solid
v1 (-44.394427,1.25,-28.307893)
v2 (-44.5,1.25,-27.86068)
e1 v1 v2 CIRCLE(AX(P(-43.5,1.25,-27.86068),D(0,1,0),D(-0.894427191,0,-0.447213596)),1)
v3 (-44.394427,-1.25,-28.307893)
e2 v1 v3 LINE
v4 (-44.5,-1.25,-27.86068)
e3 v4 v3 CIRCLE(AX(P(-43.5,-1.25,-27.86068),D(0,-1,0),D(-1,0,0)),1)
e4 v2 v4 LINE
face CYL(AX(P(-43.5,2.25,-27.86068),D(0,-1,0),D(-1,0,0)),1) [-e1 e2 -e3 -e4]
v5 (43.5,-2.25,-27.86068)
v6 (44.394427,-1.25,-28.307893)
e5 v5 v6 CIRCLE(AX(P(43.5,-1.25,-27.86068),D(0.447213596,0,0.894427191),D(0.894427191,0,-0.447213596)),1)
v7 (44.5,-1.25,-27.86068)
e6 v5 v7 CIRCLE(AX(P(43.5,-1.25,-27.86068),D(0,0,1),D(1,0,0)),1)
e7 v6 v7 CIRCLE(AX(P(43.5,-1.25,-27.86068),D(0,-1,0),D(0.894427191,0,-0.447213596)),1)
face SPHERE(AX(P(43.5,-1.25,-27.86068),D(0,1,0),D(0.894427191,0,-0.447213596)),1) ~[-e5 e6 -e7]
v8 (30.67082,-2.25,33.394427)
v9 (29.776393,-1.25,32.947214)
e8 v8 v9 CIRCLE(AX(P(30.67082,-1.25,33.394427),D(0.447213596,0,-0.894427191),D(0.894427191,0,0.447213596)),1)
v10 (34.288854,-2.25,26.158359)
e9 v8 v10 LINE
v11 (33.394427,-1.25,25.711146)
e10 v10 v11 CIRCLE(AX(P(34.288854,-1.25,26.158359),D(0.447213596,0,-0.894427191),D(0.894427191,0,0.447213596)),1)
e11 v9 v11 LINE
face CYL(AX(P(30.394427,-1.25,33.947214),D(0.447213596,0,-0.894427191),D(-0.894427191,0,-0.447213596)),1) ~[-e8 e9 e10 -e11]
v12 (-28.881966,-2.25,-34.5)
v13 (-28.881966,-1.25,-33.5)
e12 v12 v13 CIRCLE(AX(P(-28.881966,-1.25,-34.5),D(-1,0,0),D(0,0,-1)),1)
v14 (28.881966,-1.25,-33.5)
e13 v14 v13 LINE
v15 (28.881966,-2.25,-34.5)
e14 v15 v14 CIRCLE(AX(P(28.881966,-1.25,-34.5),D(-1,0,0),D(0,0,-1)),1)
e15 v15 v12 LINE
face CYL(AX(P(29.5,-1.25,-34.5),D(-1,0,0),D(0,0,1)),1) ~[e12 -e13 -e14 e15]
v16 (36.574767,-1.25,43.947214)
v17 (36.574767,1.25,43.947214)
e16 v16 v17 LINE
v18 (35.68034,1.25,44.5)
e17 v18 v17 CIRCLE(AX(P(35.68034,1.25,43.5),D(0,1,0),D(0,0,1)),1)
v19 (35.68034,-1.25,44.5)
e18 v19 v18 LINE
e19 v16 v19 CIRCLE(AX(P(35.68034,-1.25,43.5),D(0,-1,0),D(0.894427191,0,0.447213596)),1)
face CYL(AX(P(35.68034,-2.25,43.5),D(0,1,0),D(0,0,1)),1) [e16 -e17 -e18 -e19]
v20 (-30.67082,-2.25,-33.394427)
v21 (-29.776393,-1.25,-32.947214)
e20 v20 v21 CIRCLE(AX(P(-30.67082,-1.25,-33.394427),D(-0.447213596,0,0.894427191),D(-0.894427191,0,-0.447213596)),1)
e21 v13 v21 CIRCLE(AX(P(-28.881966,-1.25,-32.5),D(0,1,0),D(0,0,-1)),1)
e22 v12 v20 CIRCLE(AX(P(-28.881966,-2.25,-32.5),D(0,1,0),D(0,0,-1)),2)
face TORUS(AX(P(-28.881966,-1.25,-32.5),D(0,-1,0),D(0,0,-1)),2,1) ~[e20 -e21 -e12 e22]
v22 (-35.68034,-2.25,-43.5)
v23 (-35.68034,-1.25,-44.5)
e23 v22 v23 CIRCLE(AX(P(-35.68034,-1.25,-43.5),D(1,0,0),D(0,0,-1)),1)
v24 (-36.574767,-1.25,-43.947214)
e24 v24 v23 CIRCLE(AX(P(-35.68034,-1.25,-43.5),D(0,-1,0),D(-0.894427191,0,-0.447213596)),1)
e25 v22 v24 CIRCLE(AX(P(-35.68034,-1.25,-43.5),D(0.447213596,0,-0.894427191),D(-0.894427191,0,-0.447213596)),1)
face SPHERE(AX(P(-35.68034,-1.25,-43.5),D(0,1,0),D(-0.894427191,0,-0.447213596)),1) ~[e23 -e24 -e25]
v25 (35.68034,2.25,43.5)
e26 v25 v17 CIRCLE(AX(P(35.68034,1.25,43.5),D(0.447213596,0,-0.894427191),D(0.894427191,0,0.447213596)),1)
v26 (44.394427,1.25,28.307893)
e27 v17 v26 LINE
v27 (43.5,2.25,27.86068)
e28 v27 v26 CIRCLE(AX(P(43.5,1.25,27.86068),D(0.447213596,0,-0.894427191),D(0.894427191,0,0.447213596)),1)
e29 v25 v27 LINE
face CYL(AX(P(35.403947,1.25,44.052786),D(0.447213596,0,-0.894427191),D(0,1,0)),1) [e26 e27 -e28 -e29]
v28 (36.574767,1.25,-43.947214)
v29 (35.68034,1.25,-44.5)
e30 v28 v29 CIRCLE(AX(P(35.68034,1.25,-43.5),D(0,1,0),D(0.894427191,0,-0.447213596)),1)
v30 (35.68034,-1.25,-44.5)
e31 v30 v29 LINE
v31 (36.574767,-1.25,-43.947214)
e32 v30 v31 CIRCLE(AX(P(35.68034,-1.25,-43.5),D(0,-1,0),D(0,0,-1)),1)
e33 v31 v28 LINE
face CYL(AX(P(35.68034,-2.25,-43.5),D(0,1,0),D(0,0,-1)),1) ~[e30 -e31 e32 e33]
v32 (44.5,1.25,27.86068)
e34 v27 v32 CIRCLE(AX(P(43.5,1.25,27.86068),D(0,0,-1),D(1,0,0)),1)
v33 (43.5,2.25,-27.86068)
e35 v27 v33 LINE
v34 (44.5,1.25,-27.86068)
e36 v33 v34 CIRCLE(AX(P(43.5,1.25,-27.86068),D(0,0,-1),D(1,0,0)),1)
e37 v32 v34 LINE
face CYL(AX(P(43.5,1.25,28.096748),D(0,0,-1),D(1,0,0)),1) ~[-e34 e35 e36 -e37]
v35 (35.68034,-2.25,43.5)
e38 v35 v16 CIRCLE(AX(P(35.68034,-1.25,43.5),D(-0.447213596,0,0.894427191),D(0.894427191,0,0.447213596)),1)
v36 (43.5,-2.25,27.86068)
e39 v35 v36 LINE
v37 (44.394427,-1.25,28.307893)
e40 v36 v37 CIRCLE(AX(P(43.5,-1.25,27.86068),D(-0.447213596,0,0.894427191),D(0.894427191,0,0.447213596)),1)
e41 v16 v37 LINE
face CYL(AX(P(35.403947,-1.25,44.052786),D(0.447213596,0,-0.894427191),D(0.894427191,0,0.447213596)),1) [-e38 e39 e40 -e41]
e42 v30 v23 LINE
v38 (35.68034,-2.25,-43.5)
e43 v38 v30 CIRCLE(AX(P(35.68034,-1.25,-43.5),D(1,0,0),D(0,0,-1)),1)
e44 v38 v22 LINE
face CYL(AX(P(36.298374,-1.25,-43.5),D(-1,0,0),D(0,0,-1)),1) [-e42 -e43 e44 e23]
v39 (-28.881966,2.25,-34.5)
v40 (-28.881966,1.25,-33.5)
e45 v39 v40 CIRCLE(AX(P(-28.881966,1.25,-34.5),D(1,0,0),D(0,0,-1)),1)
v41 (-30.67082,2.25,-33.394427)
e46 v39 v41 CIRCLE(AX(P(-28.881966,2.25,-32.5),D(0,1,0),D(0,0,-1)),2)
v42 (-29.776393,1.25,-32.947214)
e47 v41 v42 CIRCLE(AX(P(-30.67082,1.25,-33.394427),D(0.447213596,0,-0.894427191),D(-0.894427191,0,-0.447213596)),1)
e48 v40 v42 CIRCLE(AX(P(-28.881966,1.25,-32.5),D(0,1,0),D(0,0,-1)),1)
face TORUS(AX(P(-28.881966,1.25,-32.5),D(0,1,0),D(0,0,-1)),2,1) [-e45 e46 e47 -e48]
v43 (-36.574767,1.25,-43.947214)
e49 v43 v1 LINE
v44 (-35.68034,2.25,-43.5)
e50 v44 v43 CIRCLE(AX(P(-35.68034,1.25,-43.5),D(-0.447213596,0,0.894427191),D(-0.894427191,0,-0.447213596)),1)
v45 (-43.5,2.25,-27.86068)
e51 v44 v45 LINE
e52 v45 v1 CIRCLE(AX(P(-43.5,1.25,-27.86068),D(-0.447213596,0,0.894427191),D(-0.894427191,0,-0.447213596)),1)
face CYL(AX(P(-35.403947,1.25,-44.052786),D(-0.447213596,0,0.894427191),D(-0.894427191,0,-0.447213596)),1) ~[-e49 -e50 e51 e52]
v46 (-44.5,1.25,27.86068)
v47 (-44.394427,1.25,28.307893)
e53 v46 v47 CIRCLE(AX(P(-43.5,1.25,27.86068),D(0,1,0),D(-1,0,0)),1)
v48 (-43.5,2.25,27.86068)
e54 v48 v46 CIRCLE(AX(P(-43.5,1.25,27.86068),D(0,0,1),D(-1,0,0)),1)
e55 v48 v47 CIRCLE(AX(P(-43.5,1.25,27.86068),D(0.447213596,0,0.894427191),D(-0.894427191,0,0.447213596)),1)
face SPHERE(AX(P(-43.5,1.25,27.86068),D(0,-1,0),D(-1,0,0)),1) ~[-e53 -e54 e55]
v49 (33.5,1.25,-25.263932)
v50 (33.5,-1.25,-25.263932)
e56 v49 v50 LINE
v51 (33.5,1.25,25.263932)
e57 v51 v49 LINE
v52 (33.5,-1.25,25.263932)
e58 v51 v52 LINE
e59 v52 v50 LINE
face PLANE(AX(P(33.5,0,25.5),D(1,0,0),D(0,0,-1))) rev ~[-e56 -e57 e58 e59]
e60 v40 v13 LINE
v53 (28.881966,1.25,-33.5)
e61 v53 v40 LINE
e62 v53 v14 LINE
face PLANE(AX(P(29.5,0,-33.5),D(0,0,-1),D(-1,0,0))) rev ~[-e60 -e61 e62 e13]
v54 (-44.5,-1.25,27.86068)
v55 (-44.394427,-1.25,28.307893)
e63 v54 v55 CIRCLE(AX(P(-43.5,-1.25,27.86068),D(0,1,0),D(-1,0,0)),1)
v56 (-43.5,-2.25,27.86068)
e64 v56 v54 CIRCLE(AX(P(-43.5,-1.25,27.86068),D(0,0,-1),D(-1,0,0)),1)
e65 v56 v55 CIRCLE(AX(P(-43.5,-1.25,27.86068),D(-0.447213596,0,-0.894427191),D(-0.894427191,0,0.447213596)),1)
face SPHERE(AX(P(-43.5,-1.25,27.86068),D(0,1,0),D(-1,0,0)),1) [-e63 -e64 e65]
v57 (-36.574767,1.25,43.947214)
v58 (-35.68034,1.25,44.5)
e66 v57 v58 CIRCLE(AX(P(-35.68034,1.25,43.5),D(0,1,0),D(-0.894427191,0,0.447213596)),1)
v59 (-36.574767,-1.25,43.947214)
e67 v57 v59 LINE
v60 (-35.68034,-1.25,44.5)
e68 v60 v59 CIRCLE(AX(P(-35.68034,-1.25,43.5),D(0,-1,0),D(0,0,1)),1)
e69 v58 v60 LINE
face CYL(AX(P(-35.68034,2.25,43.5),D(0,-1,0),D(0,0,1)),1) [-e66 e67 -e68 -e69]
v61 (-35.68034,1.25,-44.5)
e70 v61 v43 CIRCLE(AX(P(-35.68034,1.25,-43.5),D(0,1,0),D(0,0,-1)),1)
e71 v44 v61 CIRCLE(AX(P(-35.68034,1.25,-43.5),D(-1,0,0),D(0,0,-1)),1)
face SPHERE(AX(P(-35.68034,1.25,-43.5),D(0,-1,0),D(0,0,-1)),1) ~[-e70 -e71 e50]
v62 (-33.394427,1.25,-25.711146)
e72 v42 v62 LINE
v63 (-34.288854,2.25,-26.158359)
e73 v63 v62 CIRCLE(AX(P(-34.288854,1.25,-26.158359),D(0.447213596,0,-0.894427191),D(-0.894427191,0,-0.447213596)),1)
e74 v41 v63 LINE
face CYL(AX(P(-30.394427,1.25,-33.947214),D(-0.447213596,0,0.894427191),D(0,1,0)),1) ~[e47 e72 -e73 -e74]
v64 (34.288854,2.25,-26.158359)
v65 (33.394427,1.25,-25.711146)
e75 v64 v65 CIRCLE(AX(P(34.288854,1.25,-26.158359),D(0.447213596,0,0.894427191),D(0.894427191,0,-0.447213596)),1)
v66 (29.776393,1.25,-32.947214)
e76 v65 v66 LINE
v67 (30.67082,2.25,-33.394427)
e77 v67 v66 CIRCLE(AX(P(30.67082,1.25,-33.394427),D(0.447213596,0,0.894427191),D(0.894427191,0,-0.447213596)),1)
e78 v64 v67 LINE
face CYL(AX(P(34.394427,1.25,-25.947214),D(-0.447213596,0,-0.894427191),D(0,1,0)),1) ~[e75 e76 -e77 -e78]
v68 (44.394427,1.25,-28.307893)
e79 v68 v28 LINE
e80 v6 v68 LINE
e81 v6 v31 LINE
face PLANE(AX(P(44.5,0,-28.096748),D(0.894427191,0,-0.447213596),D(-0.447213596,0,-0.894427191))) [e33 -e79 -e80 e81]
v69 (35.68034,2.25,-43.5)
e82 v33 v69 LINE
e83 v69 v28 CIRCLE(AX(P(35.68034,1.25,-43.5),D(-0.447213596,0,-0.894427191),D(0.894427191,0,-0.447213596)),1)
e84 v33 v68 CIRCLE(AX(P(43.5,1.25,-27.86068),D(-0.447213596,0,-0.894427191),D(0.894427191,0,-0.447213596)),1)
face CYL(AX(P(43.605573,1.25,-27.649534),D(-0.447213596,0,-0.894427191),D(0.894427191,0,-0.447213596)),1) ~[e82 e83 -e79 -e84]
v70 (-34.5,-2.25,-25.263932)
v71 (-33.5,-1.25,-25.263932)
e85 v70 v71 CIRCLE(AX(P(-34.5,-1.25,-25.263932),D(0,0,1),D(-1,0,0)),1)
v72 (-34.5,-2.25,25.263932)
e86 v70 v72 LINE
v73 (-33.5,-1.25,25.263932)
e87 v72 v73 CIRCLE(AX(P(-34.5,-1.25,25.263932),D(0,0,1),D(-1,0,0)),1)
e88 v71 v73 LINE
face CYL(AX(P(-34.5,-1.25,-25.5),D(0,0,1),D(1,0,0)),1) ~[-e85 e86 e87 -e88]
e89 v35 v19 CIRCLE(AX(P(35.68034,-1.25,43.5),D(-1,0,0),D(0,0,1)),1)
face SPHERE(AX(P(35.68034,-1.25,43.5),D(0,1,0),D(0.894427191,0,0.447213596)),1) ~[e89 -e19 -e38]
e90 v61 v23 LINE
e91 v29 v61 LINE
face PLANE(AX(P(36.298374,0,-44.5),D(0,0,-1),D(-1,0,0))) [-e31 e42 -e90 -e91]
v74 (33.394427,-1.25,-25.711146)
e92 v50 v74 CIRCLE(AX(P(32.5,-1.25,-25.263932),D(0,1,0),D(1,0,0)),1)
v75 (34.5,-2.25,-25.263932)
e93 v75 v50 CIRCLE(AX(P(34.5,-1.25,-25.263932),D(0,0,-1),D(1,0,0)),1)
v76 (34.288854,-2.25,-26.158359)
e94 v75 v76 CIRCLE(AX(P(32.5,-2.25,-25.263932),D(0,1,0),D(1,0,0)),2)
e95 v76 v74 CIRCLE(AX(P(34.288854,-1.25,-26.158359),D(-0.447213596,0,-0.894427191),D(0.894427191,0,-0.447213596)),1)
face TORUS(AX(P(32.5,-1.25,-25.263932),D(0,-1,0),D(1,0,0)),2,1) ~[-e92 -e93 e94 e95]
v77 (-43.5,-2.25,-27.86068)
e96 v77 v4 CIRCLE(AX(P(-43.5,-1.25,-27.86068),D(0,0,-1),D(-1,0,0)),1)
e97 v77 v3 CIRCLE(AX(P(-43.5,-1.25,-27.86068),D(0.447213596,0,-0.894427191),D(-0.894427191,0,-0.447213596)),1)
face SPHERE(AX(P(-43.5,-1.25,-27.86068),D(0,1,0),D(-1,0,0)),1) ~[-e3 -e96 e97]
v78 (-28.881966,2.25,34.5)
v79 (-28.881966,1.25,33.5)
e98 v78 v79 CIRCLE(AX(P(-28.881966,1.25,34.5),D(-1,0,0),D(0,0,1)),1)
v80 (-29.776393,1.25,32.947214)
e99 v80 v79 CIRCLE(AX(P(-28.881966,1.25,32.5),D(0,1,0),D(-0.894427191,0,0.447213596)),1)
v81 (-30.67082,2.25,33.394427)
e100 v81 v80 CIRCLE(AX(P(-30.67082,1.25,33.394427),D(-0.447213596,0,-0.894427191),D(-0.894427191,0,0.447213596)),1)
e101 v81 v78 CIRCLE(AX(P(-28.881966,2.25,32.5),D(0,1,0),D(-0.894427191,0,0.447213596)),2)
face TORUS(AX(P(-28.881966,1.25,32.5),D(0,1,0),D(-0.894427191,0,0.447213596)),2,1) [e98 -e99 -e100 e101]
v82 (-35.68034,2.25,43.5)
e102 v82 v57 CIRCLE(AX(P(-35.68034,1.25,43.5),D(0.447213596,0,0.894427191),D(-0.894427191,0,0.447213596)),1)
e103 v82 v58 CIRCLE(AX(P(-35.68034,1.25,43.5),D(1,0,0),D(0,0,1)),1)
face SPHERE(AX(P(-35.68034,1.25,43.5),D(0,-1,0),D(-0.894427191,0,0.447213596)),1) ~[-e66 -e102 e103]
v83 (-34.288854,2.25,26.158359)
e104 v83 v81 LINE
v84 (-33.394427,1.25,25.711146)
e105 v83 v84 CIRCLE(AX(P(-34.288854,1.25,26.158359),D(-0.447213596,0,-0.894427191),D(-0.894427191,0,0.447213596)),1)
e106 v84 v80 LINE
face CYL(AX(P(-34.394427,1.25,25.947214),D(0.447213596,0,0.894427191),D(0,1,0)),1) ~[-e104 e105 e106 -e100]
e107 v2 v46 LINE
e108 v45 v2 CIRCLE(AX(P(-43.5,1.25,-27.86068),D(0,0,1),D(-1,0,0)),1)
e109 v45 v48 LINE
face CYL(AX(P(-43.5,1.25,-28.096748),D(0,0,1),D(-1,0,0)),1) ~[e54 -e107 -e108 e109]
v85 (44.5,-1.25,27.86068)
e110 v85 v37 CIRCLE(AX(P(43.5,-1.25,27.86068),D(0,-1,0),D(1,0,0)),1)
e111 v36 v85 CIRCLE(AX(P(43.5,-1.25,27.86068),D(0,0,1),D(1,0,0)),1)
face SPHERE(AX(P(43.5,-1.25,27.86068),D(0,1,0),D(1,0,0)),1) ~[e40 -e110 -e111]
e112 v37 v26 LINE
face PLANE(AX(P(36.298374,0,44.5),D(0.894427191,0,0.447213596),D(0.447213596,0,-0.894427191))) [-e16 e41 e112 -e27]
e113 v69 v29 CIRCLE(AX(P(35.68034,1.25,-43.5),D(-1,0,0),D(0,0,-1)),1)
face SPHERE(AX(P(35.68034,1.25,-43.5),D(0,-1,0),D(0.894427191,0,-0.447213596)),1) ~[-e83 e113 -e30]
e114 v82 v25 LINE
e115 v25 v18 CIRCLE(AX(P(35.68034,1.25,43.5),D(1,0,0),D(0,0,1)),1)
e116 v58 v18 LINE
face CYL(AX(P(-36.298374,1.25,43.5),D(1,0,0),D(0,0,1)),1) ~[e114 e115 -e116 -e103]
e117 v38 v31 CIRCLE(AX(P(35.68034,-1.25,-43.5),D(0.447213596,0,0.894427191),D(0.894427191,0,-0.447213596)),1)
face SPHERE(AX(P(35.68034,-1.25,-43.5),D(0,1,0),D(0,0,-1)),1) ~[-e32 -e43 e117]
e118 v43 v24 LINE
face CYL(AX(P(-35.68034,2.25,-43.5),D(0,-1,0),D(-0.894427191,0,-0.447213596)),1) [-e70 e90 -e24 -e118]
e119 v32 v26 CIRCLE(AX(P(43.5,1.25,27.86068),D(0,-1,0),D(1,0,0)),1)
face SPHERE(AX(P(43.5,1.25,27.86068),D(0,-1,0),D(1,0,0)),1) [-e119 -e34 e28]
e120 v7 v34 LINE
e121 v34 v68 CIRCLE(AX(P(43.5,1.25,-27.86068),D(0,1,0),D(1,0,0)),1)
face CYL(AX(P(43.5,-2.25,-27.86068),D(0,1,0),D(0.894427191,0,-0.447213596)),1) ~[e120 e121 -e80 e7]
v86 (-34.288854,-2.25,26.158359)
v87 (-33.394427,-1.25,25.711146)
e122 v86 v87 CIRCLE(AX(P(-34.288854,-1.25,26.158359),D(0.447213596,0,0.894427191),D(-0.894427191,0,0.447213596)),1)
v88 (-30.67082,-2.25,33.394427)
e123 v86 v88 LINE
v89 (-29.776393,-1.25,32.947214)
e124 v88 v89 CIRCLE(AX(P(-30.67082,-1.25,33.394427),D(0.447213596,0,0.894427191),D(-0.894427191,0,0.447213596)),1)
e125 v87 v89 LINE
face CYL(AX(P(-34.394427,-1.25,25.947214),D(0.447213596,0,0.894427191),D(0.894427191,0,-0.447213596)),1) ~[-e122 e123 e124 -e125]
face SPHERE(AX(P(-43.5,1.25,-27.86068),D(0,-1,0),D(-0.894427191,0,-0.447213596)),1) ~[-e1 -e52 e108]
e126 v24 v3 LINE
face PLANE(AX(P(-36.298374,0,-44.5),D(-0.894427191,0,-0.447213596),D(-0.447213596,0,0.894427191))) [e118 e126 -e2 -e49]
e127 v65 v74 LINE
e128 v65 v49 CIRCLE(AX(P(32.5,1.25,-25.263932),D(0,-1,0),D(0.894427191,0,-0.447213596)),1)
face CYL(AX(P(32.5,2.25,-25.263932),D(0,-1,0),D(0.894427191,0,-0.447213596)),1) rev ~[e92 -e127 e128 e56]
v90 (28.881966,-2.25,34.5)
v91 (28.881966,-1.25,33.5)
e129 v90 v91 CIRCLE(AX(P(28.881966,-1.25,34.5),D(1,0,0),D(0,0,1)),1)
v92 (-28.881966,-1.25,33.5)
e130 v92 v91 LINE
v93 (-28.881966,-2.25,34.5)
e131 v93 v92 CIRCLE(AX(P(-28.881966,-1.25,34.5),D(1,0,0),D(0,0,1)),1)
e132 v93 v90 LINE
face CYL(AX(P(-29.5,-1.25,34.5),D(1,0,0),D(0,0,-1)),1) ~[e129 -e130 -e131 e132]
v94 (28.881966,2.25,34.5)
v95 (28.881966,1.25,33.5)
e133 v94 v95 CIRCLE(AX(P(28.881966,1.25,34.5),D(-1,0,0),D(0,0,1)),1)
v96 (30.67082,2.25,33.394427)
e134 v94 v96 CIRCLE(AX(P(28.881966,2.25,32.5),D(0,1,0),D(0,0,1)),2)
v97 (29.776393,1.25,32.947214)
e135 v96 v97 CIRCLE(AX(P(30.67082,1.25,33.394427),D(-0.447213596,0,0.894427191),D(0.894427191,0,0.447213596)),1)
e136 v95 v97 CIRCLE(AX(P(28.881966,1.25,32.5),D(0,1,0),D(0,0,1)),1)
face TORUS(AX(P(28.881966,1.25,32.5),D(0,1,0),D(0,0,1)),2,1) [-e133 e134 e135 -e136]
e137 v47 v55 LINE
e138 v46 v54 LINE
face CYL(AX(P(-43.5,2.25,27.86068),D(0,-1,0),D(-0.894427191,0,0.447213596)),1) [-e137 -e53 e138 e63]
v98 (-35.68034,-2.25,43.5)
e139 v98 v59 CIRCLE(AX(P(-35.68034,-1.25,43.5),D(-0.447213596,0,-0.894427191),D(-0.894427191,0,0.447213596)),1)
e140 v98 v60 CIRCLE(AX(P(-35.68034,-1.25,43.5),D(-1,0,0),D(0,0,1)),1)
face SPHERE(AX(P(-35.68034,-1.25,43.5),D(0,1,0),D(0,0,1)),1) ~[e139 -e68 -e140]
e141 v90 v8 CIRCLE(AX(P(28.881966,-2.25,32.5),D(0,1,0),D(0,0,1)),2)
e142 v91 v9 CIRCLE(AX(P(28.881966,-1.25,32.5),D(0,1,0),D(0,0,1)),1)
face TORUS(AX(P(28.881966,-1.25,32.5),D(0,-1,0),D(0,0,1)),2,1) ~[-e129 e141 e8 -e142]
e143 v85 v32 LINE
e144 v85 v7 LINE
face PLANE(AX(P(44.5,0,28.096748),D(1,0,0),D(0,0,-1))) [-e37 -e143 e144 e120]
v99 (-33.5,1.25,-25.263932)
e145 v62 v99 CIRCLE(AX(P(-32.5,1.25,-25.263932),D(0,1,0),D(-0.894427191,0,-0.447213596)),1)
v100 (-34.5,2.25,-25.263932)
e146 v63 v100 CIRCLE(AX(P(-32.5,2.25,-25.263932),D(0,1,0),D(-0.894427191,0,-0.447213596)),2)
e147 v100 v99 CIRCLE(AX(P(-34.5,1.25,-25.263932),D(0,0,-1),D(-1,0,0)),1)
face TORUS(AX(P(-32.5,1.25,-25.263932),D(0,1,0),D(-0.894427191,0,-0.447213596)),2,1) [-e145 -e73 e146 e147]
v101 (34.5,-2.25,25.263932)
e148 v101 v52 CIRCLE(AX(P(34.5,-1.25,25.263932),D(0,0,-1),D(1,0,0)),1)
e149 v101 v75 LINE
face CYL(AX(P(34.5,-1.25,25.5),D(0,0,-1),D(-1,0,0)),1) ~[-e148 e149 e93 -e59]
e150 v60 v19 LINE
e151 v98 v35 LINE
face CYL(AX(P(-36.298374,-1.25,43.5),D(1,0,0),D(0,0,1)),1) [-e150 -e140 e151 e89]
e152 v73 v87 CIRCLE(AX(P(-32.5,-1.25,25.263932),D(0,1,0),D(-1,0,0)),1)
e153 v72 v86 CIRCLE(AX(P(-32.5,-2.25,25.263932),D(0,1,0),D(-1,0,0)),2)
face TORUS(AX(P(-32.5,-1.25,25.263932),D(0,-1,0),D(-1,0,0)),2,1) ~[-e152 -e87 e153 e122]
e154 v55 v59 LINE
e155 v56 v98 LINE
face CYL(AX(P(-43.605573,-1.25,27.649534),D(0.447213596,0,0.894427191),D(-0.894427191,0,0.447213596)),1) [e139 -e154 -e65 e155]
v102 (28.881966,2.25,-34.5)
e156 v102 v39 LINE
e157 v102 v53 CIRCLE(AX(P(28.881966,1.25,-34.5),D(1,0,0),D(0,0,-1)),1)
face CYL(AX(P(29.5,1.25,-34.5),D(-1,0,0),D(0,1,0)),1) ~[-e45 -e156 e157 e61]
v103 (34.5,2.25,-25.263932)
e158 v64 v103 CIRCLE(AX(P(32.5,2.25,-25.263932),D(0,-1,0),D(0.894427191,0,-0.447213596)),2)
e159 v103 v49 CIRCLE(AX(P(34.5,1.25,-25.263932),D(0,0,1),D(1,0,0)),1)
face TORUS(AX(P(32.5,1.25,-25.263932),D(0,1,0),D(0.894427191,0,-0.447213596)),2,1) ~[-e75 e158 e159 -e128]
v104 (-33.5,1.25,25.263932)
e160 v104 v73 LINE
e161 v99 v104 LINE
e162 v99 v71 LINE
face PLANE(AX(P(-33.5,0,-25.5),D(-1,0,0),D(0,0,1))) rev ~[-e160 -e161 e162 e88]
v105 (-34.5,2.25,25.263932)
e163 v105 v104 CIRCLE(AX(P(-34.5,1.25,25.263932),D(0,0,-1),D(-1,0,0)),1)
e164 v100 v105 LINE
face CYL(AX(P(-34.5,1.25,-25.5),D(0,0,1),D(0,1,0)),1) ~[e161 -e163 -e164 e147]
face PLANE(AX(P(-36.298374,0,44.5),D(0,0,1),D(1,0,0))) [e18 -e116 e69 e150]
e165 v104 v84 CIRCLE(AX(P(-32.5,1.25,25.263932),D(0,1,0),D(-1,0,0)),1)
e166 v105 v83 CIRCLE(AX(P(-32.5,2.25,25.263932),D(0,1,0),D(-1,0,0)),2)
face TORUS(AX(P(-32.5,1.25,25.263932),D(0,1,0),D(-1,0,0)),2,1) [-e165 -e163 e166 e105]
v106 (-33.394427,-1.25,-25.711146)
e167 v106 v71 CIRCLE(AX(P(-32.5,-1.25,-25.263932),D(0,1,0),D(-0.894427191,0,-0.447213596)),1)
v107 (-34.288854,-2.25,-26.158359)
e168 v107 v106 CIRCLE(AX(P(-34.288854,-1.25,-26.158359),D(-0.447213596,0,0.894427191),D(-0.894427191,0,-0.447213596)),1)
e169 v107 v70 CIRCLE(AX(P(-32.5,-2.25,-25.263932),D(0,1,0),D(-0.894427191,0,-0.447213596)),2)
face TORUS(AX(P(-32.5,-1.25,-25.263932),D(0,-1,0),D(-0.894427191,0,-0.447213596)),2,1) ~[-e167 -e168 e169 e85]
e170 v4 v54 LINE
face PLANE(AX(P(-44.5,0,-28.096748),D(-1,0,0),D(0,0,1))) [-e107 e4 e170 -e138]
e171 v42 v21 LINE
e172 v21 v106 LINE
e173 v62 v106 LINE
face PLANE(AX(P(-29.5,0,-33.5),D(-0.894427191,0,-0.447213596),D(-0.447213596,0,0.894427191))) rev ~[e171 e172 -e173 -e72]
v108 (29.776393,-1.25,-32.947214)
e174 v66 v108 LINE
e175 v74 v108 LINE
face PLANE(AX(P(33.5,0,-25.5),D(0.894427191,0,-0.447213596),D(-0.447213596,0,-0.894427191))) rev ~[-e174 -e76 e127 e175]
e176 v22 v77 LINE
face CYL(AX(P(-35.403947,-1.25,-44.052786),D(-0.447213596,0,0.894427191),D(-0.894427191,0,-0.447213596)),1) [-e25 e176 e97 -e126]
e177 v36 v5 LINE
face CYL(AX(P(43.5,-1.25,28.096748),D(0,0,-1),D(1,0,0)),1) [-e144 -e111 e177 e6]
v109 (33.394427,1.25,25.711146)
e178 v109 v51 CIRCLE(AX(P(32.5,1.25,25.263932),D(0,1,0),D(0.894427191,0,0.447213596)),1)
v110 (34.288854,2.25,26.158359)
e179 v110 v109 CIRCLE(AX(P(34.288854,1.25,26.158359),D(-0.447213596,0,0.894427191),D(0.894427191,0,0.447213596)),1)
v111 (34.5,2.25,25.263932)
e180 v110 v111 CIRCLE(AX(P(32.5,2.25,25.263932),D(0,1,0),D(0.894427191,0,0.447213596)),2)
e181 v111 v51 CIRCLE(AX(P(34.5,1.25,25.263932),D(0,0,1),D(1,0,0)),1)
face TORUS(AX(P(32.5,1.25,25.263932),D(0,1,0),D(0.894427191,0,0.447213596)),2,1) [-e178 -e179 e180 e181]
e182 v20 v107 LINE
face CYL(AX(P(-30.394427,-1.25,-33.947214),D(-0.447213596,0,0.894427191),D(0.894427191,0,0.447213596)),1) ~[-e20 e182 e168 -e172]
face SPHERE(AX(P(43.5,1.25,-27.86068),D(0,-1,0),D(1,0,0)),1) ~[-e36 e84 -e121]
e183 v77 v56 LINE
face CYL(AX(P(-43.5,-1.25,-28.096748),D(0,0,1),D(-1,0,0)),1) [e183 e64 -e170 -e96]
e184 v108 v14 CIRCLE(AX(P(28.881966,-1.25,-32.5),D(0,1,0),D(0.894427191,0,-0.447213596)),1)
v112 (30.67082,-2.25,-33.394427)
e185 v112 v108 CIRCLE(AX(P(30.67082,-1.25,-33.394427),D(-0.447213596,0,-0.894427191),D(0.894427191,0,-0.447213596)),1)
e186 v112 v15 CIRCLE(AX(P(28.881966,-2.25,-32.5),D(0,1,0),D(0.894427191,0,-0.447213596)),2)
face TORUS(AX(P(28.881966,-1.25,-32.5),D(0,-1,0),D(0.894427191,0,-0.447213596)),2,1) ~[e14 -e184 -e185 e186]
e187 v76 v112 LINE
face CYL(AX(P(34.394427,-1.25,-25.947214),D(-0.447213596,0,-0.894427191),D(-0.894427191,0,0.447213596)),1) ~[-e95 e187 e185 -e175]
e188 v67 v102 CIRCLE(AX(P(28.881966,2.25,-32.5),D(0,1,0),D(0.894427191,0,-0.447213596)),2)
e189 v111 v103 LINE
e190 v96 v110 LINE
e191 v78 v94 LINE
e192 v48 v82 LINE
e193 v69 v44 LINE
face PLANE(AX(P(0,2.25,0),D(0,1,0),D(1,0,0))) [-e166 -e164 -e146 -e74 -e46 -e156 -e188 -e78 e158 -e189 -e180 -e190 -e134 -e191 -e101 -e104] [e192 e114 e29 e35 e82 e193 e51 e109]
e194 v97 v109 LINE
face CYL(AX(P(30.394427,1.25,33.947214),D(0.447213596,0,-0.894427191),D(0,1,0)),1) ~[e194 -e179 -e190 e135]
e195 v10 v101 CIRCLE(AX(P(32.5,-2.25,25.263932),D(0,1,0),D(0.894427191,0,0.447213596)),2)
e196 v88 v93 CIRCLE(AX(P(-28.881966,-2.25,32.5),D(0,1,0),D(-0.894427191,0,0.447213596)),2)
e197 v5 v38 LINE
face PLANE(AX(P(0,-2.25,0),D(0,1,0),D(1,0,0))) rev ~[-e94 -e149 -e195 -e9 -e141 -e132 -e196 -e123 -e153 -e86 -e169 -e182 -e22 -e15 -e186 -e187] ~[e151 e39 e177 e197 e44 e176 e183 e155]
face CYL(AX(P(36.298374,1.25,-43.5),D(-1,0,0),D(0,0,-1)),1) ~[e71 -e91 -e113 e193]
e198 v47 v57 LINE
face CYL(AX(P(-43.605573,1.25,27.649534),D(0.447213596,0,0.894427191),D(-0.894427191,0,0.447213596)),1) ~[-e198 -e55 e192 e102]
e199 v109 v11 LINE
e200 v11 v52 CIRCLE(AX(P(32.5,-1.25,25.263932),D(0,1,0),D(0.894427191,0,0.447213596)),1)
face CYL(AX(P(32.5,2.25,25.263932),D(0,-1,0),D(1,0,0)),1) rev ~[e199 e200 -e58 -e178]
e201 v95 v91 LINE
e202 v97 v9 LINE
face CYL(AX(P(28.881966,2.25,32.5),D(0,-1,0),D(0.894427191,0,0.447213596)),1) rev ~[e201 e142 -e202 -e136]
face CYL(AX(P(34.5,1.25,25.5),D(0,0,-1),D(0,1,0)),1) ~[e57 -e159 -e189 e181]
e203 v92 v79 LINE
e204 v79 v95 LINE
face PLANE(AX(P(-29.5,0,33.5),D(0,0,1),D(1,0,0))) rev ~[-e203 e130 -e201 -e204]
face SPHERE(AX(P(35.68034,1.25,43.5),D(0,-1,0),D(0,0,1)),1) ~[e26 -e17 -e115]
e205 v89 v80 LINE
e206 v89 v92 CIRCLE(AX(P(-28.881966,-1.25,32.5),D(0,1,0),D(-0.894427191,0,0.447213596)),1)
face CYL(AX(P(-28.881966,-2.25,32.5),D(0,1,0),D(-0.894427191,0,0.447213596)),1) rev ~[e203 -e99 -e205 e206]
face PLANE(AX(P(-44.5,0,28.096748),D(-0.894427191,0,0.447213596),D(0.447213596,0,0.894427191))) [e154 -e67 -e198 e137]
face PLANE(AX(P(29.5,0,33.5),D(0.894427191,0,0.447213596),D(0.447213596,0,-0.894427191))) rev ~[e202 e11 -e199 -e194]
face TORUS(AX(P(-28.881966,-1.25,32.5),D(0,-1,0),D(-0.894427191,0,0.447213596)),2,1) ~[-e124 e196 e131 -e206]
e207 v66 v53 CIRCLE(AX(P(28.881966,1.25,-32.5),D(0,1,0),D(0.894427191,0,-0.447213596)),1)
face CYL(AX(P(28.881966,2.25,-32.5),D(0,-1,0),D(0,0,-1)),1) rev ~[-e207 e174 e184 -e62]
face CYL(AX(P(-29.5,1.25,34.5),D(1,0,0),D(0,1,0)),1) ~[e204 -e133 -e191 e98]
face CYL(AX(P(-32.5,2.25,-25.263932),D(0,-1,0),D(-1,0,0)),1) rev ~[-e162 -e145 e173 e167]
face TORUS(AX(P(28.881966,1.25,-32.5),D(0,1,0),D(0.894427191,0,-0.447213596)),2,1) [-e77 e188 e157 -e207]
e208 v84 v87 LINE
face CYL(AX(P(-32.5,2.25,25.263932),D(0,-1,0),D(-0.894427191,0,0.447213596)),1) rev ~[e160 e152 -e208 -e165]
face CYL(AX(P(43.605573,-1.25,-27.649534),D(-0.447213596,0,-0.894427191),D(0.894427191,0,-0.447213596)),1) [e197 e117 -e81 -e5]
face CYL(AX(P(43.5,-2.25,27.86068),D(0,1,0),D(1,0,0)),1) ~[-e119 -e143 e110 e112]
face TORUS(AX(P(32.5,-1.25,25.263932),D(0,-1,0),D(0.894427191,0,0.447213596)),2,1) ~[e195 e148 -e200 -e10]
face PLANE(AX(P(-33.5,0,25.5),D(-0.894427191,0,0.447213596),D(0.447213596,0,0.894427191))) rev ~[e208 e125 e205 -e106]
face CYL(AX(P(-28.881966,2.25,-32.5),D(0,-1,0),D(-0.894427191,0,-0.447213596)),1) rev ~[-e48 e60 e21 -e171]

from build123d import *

# Parameters (mm, degrees)
BOSS_EXTRUDE1_DEPTH = 2.25
FILLET1_R           = 1


with BuildPart() as part:
    # Sketch1 → Boss-Extrude1 (new, symmetric)
    with BuildSketch(Plane(origin=(0, 0, 0), x_dir=(1, 0, 0), z_dir=(0, 1, 0))):
        Polygon((-36.298373876, -44.5), (36.298373876, -44.5), (44.5, -28.096747752), (44.5, 28.096747752), (36.298373876, 44.5), (-36.298373876, 44.5), (-44.5, 28.096747752), (-44.5, -28.096747752), align=None)
        Polygon((-29.5, -33.5), (29.5, -33.5), (33.5, -25.5), (33.5, 25.5), (29.5, 33.5), (-29.5, 33.5), (-33.5, 25.5), (-33.5, -25.5), align=None, mode=Mode.SUBTRACT)
    extrude(amount=BOSS_EXTRUDE1_DEPTH, both=True)

    # Fillet1
    fillet1_edges = [part.edges().sort_by_distance(p)[0] for p in [
        (44.5, -2.25, 0),
        (40.399186938, -2.25, 36.298373876),
        (0, -2.25, 44.5),
        (-40.399186938, -2.25, 36.298373876),
        (40.399186938, 2.25, 36.298373876),
        (-44.5, 0, 28.096747752),
        (-44.5, 0, -28.096747752),
        (-36.298373876, 0, -44.5),
        (36.298373876, 0, -44.5),
        (44.5, 0, -28.096747752),
        (44.5, 0, 28.096747752),
        (36.298373876, 0, 44.5),
        (-36.298373876, 0, 44.5),
        (44.5, 2.25, 0),
        (40.399186938, 2.25, -36.298373876),
        (0, 2.25, -44.5),
        (31.5, -2.25, -29.5),
        (33.5, 0, -25.5),
        (0, -2.25, -33.5),
        (29.5, 0, -33.5),
        (-31.5, -2.25, -29.5),
        (-29.5, 0, -33.5),
        (-33.5, -2.25, 0),
        (-40.399186938, 2.25, -36.298373876),
        (-33.5, 0, -25.5),
        (-31.5, -2.25, 29.5),
        (-33.5, 0, 25.5),
        (0, -2.25, 33.5),
        (-29.5, 0, 33.5),
        (31.5, -2.25, 29.5),
        (29.5, 0, 33.5),
        (33.5, -2.25, 0),
        (33.5, 0, 25.5),
        (31.5, 2.25, -29.5),
        (0, 2.25, -33.5),
        (-31.5, 2.25, -29.5),
        (-33.5, 2.25, 0),
        (-31.5, 2.25, 29.5),
        (0, 2.25, 33.5),
        (31.5, 2.25, 29.5),
        (-44.5, 2.25, 0),
        (33.5, 2.25, 0),
        (-40.399186938, 2.25, 36.298373876),
        (-44.5, -2.25, 0),
        (0, 2.25, 44.5),
        (-40.399186938, -2.25, -36.298373876),
        (0, -2.25, -44.5),
        (40.399186938, -2.25, -36.298373876),
    ]]
    fillet(fillet1_edges, radius=FILLET1_R)


solid = part.part
